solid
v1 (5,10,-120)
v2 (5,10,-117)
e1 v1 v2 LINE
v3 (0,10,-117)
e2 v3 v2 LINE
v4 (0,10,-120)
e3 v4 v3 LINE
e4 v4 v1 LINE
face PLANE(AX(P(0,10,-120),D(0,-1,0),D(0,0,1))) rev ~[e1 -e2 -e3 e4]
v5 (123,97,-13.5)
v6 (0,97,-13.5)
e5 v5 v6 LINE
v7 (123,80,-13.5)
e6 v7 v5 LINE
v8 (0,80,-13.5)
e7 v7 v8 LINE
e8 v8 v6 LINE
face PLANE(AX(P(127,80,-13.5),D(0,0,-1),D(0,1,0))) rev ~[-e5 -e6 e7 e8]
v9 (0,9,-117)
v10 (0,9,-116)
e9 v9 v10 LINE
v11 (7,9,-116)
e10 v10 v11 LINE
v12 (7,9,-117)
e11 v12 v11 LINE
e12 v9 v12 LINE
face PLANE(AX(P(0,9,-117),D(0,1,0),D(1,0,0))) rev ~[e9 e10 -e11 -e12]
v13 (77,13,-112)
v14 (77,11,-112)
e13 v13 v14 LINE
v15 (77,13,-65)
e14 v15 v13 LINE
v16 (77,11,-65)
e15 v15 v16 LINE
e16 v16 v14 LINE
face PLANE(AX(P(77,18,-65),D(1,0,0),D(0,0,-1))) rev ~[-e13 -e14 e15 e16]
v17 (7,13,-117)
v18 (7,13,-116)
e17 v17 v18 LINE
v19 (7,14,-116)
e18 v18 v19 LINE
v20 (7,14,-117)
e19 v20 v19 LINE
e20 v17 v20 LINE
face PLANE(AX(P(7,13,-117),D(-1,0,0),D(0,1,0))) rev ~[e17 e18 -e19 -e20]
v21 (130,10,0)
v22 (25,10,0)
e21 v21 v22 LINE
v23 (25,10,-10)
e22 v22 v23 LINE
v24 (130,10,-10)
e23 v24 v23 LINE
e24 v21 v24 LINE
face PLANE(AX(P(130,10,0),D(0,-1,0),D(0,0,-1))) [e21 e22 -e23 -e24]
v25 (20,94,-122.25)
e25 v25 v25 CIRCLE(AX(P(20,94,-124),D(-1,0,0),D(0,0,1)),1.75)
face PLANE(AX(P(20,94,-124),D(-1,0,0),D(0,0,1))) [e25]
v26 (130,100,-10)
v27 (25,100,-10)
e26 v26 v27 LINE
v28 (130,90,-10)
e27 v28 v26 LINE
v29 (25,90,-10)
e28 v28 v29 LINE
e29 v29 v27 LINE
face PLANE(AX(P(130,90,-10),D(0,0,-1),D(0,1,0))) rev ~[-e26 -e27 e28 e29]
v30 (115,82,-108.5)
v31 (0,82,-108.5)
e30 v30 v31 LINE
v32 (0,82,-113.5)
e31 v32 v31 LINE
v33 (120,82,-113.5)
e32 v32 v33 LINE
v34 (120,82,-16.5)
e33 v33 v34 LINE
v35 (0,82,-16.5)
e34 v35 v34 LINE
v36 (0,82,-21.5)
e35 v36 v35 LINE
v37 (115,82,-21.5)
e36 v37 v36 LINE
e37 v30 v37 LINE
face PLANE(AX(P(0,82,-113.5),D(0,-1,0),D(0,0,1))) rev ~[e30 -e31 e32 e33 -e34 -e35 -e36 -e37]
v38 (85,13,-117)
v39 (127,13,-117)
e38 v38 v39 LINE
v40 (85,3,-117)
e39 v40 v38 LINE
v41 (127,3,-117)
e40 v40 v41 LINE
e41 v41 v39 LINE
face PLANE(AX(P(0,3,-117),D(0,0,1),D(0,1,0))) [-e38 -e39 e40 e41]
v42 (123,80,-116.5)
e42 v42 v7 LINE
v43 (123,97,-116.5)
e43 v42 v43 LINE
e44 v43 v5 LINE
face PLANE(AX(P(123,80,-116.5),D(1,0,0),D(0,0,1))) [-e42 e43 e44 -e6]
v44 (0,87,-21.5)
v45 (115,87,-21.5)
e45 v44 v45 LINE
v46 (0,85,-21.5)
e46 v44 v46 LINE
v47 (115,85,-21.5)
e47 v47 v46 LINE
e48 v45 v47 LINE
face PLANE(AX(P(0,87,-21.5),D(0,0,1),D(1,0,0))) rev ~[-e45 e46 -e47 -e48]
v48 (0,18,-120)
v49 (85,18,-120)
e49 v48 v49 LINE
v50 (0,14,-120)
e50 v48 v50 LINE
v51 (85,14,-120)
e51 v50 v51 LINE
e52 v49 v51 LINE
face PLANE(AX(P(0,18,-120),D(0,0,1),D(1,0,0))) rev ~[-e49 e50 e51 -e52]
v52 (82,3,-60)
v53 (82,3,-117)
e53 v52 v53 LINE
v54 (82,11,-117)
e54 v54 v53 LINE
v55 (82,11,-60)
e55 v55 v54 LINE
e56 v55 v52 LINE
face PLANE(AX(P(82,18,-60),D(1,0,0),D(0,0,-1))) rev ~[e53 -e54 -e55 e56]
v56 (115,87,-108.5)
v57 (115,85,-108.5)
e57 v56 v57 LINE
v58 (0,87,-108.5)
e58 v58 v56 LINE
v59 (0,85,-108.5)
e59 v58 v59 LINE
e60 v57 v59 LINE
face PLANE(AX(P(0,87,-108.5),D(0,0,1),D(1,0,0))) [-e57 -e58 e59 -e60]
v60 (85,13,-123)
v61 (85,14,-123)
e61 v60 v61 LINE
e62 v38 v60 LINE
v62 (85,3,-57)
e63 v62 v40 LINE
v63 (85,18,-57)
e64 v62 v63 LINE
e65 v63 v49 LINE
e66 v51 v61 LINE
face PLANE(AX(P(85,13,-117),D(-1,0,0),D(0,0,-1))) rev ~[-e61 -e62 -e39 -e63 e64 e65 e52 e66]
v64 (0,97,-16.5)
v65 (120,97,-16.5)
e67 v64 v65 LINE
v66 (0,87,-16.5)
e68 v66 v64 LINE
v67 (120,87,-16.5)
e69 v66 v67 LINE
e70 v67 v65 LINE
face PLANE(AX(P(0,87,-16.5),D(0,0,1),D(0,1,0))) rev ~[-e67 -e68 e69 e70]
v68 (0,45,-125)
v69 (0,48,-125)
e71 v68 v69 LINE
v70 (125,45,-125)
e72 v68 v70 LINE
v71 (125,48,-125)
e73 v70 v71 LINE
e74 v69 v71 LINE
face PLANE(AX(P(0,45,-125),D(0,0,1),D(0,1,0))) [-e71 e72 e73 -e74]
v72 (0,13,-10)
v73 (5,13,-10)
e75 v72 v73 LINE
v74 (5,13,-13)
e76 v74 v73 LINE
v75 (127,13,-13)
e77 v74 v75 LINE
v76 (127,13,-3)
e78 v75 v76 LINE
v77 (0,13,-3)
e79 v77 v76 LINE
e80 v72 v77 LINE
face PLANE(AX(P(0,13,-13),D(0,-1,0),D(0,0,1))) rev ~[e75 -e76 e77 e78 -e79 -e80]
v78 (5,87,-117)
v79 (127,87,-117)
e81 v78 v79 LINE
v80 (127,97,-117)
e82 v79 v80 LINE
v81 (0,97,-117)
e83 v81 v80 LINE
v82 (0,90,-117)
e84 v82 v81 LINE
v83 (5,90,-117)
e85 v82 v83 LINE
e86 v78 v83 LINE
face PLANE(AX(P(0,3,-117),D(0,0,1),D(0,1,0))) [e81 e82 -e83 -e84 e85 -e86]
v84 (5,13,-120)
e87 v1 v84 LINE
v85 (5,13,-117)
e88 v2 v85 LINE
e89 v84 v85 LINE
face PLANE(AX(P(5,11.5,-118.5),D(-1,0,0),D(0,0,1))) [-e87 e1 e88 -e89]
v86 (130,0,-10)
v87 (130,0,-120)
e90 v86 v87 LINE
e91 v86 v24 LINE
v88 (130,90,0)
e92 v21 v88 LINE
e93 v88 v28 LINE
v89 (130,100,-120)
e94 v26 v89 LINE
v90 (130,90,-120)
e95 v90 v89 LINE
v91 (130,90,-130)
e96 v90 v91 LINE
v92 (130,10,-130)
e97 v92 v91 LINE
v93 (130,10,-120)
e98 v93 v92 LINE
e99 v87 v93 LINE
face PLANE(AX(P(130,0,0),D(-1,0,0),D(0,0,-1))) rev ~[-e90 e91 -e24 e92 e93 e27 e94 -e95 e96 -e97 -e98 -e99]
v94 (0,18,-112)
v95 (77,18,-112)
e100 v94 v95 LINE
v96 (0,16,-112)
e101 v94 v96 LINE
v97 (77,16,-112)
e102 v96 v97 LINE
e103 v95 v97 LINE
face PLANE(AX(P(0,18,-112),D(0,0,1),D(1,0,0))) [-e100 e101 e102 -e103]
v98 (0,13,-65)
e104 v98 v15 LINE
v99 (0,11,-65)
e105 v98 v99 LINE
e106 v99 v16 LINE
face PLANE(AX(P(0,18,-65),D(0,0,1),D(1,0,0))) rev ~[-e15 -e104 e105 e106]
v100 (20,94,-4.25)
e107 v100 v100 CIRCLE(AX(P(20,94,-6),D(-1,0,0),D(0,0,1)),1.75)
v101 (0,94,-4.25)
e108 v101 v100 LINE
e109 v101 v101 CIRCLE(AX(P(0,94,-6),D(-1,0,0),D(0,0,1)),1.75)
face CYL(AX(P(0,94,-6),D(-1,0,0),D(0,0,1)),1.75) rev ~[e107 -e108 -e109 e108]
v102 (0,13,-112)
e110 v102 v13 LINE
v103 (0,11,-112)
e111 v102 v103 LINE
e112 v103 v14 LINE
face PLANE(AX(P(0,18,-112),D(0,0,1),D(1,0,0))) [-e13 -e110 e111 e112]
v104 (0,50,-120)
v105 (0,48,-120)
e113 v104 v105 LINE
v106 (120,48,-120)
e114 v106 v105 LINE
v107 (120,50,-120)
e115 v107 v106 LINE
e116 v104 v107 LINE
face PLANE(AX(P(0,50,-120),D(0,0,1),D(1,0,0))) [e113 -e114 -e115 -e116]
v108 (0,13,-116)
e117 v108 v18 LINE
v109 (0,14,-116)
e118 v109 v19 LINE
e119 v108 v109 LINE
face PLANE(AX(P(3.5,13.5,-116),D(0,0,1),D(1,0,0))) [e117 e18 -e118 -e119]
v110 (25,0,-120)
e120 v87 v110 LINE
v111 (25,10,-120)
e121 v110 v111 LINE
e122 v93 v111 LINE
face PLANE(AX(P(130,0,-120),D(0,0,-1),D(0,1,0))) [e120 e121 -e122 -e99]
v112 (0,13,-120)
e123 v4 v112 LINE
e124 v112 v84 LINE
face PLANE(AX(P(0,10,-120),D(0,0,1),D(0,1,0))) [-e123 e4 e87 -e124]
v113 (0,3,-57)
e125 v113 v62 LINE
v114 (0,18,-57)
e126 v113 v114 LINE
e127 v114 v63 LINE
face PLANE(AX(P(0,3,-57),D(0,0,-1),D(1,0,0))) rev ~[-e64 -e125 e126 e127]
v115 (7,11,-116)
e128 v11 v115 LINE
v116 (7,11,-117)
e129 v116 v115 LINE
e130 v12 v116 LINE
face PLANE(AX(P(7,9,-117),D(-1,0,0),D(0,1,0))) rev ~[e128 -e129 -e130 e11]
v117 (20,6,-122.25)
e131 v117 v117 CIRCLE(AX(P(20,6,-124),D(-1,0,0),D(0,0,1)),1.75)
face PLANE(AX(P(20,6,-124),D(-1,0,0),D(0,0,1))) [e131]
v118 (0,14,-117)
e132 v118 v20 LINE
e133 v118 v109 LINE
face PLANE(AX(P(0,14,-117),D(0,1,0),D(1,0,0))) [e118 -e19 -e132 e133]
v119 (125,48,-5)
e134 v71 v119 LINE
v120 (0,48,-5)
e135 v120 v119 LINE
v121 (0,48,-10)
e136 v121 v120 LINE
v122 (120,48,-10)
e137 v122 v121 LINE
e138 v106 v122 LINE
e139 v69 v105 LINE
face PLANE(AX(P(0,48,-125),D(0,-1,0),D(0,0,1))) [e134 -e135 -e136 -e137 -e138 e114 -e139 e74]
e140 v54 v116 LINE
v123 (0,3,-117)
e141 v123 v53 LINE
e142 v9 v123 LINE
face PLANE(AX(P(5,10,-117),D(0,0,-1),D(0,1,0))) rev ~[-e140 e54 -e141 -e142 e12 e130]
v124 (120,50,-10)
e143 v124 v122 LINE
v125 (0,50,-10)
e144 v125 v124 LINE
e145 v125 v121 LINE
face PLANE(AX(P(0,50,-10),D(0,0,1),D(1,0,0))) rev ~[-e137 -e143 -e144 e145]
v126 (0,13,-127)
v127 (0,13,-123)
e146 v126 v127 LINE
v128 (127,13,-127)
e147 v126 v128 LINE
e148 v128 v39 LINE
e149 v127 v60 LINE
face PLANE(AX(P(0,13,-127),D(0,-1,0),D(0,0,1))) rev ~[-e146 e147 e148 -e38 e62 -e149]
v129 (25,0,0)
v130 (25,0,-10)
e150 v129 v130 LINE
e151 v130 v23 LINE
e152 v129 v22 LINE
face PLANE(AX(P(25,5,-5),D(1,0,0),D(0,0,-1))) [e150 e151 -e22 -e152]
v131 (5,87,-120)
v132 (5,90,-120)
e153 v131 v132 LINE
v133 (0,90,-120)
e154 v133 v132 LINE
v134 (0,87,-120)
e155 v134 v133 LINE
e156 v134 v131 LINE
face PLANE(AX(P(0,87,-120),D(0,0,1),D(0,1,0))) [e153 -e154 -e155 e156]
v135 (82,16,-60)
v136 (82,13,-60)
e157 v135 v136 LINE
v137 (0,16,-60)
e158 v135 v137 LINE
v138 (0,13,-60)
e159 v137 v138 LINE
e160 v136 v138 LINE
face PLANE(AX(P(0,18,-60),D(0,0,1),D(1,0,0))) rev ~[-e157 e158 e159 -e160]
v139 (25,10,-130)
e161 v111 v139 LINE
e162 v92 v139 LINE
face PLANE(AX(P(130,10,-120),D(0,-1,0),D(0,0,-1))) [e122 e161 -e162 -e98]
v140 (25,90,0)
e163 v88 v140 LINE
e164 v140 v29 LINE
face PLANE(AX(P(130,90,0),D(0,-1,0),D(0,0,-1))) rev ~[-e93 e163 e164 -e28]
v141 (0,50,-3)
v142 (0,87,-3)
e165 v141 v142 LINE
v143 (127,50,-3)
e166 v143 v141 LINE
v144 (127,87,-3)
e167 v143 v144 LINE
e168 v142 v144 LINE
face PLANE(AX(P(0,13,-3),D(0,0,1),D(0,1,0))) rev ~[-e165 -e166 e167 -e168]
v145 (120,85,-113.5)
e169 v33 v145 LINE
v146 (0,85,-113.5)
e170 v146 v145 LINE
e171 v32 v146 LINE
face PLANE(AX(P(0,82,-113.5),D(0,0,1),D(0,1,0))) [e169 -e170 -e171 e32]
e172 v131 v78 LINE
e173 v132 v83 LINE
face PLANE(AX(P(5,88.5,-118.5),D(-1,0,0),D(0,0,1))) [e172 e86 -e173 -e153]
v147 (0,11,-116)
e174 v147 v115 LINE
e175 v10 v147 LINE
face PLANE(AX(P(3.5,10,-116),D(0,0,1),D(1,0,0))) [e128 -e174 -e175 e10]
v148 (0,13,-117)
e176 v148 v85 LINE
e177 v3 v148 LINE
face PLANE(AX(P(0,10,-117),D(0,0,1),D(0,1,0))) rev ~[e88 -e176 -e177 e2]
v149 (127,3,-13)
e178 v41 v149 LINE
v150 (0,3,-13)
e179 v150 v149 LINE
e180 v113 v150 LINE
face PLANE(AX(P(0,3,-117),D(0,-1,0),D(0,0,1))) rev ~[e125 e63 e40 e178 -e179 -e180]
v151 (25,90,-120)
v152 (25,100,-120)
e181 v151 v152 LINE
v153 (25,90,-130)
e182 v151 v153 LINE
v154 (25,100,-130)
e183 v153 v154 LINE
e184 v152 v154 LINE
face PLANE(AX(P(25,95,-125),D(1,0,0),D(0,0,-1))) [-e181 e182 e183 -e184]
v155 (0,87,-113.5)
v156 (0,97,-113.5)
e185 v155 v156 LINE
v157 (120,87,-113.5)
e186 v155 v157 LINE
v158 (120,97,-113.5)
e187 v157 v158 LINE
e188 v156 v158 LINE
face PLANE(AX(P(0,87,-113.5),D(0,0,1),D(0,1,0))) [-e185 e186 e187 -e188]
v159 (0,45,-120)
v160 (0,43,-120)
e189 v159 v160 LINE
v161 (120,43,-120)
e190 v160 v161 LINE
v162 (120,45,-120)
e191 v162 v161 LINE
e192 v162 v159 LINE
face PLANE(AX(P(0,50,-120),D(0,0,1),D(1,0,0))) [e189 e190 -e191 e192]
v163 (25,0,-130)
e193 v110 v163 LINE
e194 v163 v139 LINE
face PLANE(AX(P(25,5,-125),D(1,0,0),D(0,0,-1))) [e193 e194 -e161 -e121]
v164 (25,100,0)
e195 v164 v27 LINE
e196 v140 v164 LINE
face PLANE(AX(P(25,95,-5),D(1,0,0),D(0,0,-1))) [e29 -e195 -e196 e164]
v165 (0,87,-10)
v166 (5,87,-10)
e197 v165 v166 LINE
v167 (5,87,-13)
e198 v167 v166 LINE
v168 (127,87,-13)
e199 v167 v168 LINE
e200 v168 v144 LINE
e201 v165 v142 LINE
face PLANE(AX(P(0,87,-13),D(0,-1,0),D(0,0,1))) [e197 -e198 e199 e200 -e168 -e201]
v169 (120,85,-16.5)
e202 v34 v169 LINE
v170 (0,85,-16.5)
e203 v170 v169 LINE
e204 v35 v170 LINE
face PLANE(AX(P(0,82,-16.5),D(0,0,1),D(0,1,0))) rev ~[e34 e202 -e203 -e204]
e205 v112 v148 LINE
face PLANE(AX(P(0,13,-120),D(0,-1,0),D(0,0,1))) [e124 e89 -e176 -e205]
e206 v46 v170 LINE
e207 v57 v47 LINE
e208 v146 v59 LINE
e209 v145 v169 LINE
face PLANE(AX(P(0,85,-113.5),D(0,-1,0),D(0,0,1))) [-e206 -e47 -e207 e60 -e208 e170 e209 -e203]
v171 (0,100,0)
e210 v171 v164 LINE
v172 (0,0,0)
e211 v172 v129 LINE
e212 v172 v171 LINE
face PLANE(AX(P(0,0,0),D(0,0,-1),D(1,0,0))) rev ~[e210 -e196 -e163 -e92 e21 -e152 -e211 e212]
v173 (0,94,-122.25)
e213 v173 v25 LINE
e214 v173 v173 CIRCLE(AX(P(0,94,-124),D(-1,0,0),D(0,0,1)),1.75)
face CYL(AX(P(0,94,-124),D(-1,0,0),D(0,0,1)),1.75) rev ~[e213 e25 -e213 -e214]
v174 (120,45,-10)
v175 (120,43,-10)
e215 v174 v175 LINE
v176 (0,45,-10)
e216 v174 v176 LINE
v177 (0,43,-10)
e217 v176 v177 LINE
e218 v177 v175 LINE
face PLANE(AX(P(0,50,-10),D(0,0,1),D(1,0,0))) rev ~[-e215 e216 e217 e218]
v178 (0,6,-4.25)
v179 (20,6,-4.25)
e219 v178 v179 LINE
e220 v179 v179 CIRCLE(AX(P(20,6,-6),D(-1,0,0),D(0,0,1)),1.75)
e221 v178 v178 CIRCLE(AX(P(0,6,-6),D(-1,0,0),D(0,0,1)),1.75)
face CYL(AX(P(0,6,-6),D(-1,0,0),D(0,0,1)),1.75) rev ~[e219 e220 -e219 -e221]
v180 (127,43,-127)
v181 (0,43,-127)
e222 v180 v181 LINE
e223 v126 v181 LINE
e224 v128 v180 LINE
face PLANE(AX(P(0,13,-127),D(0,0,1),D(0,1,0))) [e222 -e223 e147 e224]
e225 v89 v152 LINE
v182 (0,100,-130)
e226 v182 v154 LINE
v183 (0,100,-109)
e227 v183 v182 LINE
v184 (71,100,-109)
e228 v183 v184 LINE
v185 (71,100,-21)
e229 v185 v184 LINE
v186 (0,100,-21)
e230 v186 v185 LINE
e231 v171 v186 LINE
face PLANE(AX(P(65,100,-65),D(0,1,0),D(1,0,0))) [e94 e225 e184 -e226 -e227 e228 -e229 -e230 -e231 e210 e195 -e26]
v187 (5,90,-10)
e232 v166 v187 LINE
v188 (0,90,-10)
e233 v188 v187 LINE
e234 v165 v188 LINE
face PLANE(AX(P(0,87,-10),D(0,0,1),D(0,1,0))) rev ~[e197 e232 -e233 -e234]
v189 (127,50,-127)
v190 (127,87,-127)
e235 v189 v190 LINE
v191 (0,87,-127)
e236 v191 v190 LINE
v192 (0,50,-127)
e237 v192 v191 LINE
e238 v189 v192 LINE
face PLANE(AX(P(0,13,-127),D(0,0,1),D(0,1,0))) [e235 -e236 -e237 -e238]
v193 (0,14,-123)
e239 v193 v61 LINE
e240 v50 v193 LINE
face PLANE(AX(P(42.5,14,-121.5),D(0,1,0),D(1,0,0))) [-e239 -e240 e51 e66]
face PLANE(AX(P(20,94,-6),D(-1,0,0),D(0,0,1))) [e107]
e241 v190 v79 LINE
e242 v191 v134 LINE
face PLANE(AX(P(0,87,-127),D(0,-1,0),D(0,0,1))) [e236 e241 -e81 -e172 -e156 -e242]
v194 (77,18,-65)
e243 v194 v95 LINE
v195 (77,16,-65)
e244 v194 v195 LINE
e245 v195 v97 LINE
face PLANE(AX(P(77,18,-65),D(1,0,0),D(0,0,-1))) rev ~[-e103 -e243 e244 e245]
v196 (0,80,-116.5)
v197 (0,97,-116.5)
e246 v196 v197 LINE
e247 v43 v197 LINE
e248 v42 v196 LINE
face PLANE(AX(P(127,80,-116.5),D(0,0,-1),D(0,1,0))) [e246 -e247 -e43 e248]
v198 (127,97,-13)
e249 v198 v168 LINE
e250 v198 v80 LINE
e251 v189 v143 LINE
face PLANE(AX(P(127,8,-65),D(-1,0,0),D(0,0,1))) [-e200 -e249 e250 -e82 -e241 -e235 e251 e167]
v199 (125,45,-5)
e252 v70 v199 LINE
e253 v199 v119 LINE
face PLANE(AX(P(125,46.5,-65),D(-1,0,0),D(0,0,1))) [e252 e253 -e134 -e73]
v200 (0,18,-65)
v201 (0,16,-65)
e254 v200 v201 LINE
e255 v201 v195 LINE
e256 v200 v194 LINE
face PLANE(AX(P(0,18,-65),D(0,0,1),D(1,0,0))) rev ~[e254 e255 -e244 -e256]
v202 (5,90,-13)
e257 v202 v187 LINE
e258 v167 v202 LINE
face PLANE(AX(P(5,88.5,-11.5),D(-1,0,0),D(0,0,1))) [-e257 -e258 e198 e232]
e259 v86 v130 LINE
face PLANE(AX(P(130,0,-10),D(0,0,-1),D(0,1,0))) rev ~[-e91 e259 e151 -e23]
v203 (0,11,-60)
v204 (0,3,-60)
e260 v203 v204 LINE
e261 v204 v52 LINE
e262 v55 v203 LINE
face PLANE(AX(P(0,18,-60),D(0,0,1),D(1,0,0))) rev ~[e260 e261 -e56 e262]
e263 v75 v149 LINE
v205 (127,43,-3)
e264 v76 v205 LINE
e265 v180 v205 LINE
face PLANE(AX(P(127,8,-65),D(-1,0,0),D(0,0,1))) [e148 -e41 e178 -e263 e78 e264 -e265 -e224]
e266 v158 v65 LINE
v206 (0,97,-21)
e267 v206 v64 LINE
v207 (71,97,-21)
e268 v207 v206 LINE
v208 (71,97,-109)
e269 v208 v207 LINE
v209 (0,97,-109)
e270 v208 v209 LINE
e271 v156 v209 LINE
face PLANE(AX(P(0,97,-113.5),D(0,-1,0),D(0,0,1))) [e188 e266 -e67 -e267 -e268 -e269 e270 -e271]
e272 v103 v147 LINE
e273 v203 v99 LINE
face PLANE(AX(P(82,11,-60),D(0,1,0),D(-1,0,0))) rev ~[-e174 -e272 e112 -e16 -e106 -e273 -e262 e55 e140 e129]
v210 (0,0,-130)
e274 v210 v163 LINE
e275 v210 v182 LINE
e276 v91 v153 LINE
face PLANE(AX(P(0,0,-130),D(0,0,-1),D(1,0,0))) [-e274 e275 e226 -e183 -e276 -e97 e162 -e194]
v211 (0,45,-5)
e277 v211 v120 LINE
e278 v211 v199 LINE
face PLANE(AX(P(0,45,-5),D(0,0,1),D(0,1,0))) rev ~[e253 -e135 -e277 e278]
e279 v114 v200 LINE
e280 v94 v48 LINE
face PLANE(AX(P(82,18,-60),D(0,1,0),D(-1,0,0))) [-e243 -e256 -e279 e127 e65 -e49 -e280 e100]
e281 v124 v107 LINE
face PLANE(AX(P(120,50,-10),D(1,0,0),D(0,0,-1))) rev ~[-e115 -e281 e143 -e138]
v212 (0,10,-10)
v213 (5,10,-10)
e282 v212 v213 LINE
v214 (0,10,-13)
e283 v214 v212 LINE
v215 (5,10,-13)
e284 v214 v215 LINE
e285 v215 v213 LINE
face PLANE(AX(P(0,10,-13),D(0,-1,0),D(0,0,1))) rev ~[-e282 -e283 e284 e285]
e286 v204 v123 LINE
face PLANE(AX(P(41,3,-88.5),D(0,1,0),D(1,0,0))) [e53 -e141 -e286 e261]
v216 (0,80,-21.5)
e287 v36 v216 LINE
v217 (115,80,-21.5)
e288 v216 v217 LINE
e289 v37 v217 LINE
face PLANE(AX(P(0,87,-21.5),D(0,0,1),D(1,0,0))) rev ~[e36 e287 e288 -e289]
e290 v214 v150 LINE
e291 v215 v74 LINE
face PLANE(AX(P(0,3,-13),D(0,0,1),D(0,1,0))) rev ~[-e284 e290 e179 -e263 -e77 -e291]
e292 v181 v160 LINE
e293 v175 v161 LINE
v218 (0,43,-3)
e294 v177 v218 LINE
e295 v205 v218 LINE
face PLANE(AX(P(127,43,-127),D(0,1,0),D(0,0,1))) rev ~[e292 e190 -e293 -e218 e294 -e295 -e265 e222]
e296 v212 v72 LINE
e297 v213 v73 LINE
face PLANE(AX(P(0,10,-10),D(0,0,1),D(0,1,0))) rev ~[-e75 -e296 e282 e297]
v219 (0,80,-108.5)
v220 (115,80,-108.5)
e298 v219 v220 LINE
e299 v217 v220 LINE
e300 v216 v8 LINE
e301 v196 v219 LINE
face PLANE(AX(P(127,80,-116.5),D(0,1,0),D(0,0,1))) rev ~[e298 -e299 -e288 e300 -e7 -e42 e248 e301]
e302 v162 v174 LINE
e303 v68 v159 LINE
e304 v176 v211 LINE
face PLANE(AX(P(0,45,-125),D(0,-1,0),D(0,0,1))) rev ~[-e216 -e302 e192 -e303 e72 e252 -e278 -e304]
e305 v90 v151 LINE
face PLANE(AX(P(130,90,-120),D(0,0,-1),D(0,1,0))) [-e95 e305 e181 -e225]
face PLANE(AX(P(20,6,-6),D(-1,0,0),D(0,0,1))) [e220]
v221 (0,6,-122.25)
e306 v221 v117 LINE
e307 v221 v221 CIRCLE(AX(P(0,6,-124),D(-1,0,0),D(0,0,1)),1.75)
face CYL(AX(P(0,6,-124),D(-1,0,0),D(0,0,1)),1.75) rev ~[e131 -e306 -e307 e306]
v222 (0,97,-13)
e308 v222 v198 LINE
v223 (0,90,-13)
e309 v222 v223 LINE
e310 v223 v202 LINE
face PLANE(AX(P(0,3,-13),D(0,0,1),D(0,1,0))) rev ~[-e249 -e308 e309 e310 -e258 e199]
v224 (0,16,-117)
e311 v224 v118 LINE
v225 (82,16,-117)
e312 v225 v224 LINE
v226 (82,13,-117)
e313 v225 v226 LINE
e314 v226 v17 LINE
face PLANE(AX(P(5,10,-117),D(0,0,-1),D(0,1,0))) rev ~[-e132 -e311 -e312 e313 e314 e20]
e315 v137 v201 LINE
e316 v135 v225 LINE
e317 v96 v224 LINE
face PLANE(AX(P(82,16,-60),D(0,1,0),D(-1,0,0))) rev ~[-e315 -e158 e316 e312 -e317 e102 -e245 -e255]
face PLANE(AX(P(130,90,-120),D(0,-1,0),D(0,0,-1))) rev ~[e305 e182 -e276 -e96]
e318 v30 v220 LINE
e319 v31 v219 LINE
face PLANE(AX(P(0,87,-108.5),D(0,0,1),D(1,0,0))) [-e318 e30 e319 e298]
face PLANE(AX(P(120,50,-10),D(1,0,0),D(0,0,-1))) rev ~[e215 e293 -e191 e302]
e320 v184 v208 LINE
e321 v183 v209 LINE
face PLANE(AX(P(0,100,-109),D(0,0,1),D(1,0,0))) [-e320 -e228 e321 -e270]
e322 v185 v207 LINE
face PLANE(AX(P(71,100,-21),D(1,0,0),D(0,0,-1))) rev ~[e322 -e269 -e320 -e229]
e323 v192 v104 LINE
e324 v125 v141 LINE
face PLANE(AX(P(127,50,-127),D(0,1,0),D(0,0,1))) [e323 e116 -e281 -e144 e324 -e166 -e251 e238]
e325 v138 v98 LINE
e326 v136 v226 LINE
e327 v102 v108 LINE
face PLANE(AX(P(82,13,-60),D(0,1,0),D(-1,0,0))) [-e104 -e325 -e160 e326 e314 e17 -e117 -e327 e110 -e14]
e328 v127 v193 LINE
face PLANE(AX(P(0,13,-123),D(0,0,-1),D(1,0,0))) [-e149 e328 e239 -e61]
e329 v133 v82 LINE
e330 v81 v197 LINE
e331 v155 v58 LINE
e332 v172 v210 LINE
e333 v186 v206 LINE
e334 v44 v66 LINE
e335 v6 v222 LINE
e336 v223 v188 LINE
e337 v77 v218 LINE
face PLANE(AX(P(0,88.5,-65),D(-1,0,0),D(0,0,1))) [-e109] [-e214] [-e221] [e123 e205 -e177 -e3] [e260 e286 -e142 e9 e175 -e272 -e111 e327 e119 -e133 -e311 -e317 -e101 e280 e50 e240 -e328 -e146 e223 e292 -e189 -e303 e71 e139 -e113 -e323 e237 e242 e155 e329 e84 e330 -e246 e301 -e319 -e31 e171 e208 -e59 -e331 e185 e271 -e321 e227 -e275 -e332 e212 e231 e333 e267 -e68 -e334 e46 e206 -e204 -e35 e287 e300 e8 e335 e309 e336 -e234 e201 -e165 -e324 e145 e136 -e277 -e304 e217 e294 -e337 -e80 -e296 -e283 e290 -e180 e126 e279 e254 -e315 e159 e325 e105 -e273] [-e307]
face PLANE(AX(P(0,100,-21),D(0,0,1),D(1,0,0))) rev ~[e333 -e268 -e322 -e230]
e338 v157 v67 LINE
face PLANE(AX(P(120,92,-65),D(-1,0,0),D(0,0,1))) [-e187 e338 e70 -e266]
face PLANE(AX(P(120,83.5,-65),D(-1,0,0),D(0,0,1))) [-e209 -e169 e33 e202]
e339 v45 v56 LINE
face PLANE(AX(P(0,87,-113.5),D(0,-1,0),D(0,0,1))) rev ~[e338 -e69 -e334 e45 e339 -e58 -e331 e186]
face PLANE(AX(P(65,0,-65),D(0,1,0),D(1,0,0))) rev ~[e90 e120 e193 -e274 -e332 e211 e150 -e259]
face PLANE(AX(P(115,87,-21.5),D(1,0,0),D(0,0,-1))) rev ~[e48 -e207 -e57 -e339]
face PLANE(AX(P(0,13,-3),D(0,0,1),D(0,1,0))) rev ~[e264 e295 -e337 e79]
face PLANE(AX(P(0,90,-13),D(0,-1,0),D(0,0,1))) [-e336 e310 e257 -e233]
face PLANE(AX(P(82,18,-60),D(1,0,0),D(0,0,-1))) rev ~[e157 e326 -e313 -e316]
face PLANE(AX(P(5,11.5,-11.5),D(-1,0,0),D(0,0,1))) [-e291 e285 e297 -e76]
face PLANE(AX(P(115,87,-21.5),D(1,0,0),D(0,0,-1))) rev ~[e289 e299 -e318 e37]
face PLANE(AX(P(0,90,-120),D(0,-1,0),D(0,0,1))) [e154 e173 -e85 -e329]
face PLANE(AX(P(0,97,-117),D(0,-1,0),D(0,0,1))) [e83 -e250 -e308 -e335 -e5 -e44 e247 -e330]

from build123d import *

# Parameters (mm, degrees)
SKETCH2_W            = 130
SKETCH2_H            = 130
BOSS_EXTRUDE1_DEPTH  = 100
SKETCH3_W            = 104
SKETCH3_H            = 74
CUT_EXTRUDE1_DEPTH   = 127
SKETCH4_W            = 10
SKETCH4_H            = 10
CUT_EXTRUDE3_DEPTH   = 105
SKETCH5_W            = 104
SKETCH5_H            = 10
CUT_EXTRUDE4_DEPTH   = 127
SKETCH6_W            = 10
SKETCH6_H            = 74
CUT_EXTRUDE5_DEPTH   = 127
SKETCH7_R            = 1.75
CUT_EXTRUDE6_DEPTH   = 20
SKETCH8_W            = 3
SKETCH8_H            = 3
CUT_EXTRUDE7_DEPTH   = 5
SKETCH9_W            = 85
SKETCH9_H            = 60
BOSS_EXTRUDE2_DEPTH  = 15
SKETCH11_W           = 85
SKETCH11_H           = 6
BOSS_EXTRUDE5_DEPTH  = 5
SKETCH12_W           = 85
SKETCH12_H           = 3
CUT_EXTRUDE9_DEPTH   = 4
SKETCH13_W           = 82
SKETCH13_H           = 57
CUT_EXTRUDE10_DEPTH  = 15
SKETCH15_W           = 3
SKETCH15_H           = 3
BOSS_EXTRUDE7_DEPTH  = 5
SKETCH16_W           = 82
SKETCH16_H           = 2
BOSS_EXTRUDE8_DEPTH  = 57
SKETCH17_W           = 77
SKETCH17_H           = 47
CUT_EXTRUDE11_DEPTH  = 10
SKETCH19_W           = 7
SKETCH19_H           = 2
SKETCH19_H_2         = 1
BOSS_EXTRUDE9_DEPTH  = 1
SKETCH21_W           = 3
SKETCH21_H           = 3
CUT_EXTRUDE15_DEPTH  = 5
SKETCH22_W           = 124
SKETCH22_H           = 7
BOSS_EXTRUDE10_DEPTH = 127
SKETCH23_W           = 120
SKETCH23_H           = 3
CUT_EXTRUDE16_DEPTH  = 125
SKETCH24_W           = 120
SKETCH24_H           = 110
CUT_EXTRUDE17_DEPTH  = 15
SKETCH25_W           = 71
SKETCH25_H           = 88
CUT_EXTRUDE18_DEPTH  = 15
SKETCH27_W           = 103
SKETCH27_H           = 17
BOSS_EXTRUDE11_DEPTH = 127
SKETCH28_W           = 97
SKETCH28_H           = 3
SKETCH28_H_2         = 10
CUT_EXTRUDE19_DEPTH  = 120
SKETCH29_W           = 4
SKETCH29_H           = 103
CUT_EXTRUDE20_DEPTH  = 17
SKETCH30_W           = 115
SKETCH30_H           = 87
CUT_EXTRUDE21_DEPTH  = 17


with BuildPart() as part:
    # Sketch2 → Boss-Extrude1 (new body)
    with BuildSketch(Plane(origin=(0, 0, 0), x_dir=(1, 0, 0), z_dir=(0, 1, 0))):
        with Locations((65, 65)):
            Rectangle(SKETCH2_W, SKETCH2_H)
    extrude(amount=BOSS_EXTRUDE1_DEPTH)

    # Sketch3 → Cut-Extrude1 (cut)
    with BuildSketch(Plane.ZY):
        with Locations((-65, 50)):
            Rectangle(SKETCH3_W, SKETCH3_H)
    extrude(amount=-CUT_EXTRUDE1_DEPTH, mode=Mode.SUBTRACT)

    # Sketch4 → Cut-Extrude3 (cut)
    with BuildSketch(Plane(origin=(130, 0, 0), x_dir=(0, 0, -1), z_dir=(1, 0, 0))):
        with Locations((5, 95)):
            Rectangle(SKETCH4_W, SKETCH4_H)
        with Locations((125, 95)):
            Rectangle(SKETCH4_W, SKETCH4_H)
        with Locations((5, 5)):
            Rectangle(SKETCH4_W, SKETCH4_H)
        with Locations((125, 5)):
            Rectangle(SKETCH4_W, SKETCH4_H)
    extrude(amount=-CUT_EXTRUDE3_DEPTH, mode=Mode.SUBTRACT)

    # Sketch5 → Cut-Extrude4 (cut)
    with BuildSketch(Plane.ZY):
        with Locations((-65, 92)):
            Rectangle(SKETCH5_W, SKETCH5_H)
        with Locations((-65, 8)):
            Rectangle(SKETCH5_W, SKETCH5_H)
    extrude(amount=-CUT_EXTRUDE4_DEPTH, mode=Mode.SUBTRACT)

    # Sketch6 → Cut-Extrude5 (cut)
    with BuildSketch(Plane.ZY):
        with Locations((-122, 50)):
            Rectangle(SKETCH6_W, SKETCH6_H)
        with Locations((-8, 50)):
            Rectangle(SKETCH6_W, SKETCH6_H)
    extrude(amount=-CUT_EXTRUDE5_DEPTH, mode=Mode.SUBTRACT)

    # Sketch7 → Cut-Extrude6 (cut)
    with BuildSketch(Plane.ZY):
        with Locations((-124, 94)):
            Circle(SKETCH7_R)
        with Locations((-6, 94)):
            Circle(SKETCH7_R)
        with Locations((-124, 6)):
            Circle(SKETCH7_R)
        with Locations((-6, 6)):
            Circle(SKETCH7_R)
    extrude(amount=-CUT_EXTRUDE6_DEPTH, mode=Mode.SUBTRACT)

    # Sketch8 → Cut-Extrude7 (cut)
    with BuildSketch(Plane.ZY):
        with Locations((-118.5, 88.5)):
            Rectangle(SKETCH8_W, SKETCH8_H)
        with Locations((-11.5, 88.5)):
            Rectangle(SKETCH8_W, SKETCH8_H)
        with Locations((-118.5, 11.5)):
            Rectangle(SKETCH8_W, SKETCH8_H)
        with Locations((-11.5, 11.5)):
            Rectangle(SKETCH8_W, SKETCH8_H)
    extrude(amount=-CUT_EXTRUDE7_DEPTH, mode=Mode.SUBTRACT)

    # Sketch9 → Boss-Extrude2 (add)
    with BuildSketch(Plane(origin=(0, 3, 0), x_dir=(1, 0, 0), z_dir=(0, 1, 0))):
        with Locations((42.5, 87)):
            Rectangle(SKETCH9_W, SKETCH9_H)
    extrude(amount=BOSS_EXTRUDE2_DEPTH)

    # Sketch11 → Boss-Extrude5 (add)
    with BuildSketch(Plane(origin=(0, 13, 0), x_dir=(1, 0, 0), z_dir=(0, 1, 0))):
        with Locations((42.5, 120)):
            Rectangle(SKETCH11_W, SKETCH11_H)
    extrude(amount=BOSS_EXTRUDE5_DEPTH)

    # Sketch12 → Cut-Extrude9 (cut)
    with BuildSketch(Plane(origin=(0, 18, 0), x_dir=(1, 0, 0), z_dir=(0, 1, 0))):
        with Locations((42.5, 121.5)):
            Rectangle(SKETCH12_W, SKETCH12_H)
    extrude(amount=-CUT_EXTRUDE9_DEPTH, mode=Mode.SUBTRACT)

    # Sketch13 → Cut-Extrude10 (cut)
    with BuildSketch(Plane(origin=(0, 18, 0), x_dir=(1, 0, 0), z_dir=(0, 1, 0))):
        with Locations((41, 88.5)):
            Rectangle(SKETCH13_W, SKETCH13_H)
    extrude(amount=-CUT_EXTRUDE10_DEPTH, mode=Mode.SUBTRACT)

    # Sketch15 → Boss-Extrude7 (add)
    with BuildSketch(Plane.ZY.offset(-5)):
        with Locations((-118.5, 11.5)):
            Rectangle(SKETCH15_W, SKETCH15_H)
    extrude(amount=BOSS_EXTRUDE7_DEPTH)

    # Sketch16 → Boss-Extrude8 (add)
    with BuildSketch(Plane(origin=(0, 0, -60), x_dir=(-1, 0, 0), z_dir=(0, 0, -1))):
        with Locations((-41, 17)):
            Rectangle(SKETCH16_W, SKETCH16_H)
        with Locations((-41, 12)):
            Rectangle(SKETCH16_W, SKETCH16_H)
    extrude(amount=BOSS_EXTRUDE8_DEPTH)

    # Sketch17 → Cut-Extrude11 (cut)
    with BuildSketch(Plane(origin=(0, 18, 0), x_dir=(1, 0, 0), z_dir=(0, 1, 0))):
        with Locations((38.5, 88.5)):
            Rectangle(SKETCH17_W, SKETCH17_H)
    extrude(amount=-CUT_EXTRUDE11_DEPTH, mode=Mode.SUBTRACT)

    # Sketch19 → Boss-Extrude9 (add)
    with BuildSketch(Plane.XY.offset(-117)):
        with Locations((3.5, 10)):
            Rectangle(SKETCH19_W, SKETCH19_H)
        with Locations((3.5, 13.5)):
            Rectangle(SKETCH19_W, SKETCH19_H_2)
    extrude(amount=BOSS_EXTRUDE9_DEPTH)

    # Sketch21 → Cut-Extrude15 (cut)
    with BuildSketch(Plane.ZY):
        with Locations((-118.5, 11.5)):
            Rectangle(SKETCH21_W, SKETCH21_H)
    extrude(amount=-CUT_EXTRUDE15_DEPTH, mode=Mode.SUBTRACT)

    # Sketch22 → Boss-Extrude10 (add)
    with BuildSketch(Plane.ZY.offset(-127)):
        with Locations((-65, 46.5)):
            Rectangle(SKETCH22_W, SKETCH22_H)
    extrude(amount=BOSS_EXTRUDE10_DEPTH)

    # Sketch23 → Cut-Extrude16 (cut)
    with BuildSketch(Plane.ZY):
        with Locations((-65, 46.5)):
            Rectangle(SKETCH23_W, SKETCH23_H)
    extrude(amount=-CUT_EXTRUDE16_DEPTH, mode=Mode.SUBTRACT)

    # Sketch24 → Cut-Extrude17 (cut)
    with BuildSketch(Plane(origin=(0, 50, 0), x_dir=(1, 0, 0), z_dir=(0, 1, 0))):
        with Locations((60, 65)):
            Rectangle(SKETCH24_W, SKETCH24_H)
    extrude(amount=-CUT_EXTRUDE17_DEPTH, mode=Mode.SUBTRACT)

    # Sketch25 → Cut-Extrude18 (cut)
    with BuildSketch(Plane(origin=(0, 100, 0), x_dir=(1, 0, 0), z_dir=(0, 1, 0))):
        with Locations((35.5, 65)):
            Rectangle(SKETCH25_W, SKETCH25_H)
    extrude(amount=-CUT_EXTRUDE18_DEPTH, mode=Mode.SUBTRACT)

    # Sketch27 → Boss-Extrude11 (add)
    with BuildSketch(Plane.ZY.offset(-127)):
        with Locations((-65, 88.5)):
            Rectangle(SKETCH27_W, SKETCH27_H)
    extrude(amount=BOSS_EXTRUDE11_DEPTH)

    # Sketch28 → Cut-Extrude19 (cut)
    with BuildSketch(Plane.ZY):
        with Locations((-65, 83.5)):
            Rectangle(SKETCH28_W, SKETCH28_H)
        with Locations((-65, 92)):
            Rectangle(SKETCH28_W, SKETCH28_H_2)
    extrude(amount=-CUT_EXTRUDE19_DEPTH, mode=Mode.SUBTRACT)

    # Sketch29 → Cut-Extrude20 (cut)
    with BuildSketch(Plane.XZ.offset(-80)):
        with Locations((125, -65)):
            Rectangle(SKETCH29_W, SKETCH29_H)
    extrude(amount=-CUT_EXTRUDE20_DEPTH, mode=Mode.SUBTRACT)

    # Sketch30 → Cut-Extrude21 (cut)
    with BuildSketch(Plane(origin=(0, 87, 0), x_dir=(1, 0, 0), z_dir=(0, 1, 0))):
        with Locations((57.5, 65)):
            Rectangle(SKETCH30_W, SKETCH30_H)
    extrude(amount=-CUT_EXTRUDE21_DEPTH, mode=Mode.SUBTRACT)


solid = part.part
